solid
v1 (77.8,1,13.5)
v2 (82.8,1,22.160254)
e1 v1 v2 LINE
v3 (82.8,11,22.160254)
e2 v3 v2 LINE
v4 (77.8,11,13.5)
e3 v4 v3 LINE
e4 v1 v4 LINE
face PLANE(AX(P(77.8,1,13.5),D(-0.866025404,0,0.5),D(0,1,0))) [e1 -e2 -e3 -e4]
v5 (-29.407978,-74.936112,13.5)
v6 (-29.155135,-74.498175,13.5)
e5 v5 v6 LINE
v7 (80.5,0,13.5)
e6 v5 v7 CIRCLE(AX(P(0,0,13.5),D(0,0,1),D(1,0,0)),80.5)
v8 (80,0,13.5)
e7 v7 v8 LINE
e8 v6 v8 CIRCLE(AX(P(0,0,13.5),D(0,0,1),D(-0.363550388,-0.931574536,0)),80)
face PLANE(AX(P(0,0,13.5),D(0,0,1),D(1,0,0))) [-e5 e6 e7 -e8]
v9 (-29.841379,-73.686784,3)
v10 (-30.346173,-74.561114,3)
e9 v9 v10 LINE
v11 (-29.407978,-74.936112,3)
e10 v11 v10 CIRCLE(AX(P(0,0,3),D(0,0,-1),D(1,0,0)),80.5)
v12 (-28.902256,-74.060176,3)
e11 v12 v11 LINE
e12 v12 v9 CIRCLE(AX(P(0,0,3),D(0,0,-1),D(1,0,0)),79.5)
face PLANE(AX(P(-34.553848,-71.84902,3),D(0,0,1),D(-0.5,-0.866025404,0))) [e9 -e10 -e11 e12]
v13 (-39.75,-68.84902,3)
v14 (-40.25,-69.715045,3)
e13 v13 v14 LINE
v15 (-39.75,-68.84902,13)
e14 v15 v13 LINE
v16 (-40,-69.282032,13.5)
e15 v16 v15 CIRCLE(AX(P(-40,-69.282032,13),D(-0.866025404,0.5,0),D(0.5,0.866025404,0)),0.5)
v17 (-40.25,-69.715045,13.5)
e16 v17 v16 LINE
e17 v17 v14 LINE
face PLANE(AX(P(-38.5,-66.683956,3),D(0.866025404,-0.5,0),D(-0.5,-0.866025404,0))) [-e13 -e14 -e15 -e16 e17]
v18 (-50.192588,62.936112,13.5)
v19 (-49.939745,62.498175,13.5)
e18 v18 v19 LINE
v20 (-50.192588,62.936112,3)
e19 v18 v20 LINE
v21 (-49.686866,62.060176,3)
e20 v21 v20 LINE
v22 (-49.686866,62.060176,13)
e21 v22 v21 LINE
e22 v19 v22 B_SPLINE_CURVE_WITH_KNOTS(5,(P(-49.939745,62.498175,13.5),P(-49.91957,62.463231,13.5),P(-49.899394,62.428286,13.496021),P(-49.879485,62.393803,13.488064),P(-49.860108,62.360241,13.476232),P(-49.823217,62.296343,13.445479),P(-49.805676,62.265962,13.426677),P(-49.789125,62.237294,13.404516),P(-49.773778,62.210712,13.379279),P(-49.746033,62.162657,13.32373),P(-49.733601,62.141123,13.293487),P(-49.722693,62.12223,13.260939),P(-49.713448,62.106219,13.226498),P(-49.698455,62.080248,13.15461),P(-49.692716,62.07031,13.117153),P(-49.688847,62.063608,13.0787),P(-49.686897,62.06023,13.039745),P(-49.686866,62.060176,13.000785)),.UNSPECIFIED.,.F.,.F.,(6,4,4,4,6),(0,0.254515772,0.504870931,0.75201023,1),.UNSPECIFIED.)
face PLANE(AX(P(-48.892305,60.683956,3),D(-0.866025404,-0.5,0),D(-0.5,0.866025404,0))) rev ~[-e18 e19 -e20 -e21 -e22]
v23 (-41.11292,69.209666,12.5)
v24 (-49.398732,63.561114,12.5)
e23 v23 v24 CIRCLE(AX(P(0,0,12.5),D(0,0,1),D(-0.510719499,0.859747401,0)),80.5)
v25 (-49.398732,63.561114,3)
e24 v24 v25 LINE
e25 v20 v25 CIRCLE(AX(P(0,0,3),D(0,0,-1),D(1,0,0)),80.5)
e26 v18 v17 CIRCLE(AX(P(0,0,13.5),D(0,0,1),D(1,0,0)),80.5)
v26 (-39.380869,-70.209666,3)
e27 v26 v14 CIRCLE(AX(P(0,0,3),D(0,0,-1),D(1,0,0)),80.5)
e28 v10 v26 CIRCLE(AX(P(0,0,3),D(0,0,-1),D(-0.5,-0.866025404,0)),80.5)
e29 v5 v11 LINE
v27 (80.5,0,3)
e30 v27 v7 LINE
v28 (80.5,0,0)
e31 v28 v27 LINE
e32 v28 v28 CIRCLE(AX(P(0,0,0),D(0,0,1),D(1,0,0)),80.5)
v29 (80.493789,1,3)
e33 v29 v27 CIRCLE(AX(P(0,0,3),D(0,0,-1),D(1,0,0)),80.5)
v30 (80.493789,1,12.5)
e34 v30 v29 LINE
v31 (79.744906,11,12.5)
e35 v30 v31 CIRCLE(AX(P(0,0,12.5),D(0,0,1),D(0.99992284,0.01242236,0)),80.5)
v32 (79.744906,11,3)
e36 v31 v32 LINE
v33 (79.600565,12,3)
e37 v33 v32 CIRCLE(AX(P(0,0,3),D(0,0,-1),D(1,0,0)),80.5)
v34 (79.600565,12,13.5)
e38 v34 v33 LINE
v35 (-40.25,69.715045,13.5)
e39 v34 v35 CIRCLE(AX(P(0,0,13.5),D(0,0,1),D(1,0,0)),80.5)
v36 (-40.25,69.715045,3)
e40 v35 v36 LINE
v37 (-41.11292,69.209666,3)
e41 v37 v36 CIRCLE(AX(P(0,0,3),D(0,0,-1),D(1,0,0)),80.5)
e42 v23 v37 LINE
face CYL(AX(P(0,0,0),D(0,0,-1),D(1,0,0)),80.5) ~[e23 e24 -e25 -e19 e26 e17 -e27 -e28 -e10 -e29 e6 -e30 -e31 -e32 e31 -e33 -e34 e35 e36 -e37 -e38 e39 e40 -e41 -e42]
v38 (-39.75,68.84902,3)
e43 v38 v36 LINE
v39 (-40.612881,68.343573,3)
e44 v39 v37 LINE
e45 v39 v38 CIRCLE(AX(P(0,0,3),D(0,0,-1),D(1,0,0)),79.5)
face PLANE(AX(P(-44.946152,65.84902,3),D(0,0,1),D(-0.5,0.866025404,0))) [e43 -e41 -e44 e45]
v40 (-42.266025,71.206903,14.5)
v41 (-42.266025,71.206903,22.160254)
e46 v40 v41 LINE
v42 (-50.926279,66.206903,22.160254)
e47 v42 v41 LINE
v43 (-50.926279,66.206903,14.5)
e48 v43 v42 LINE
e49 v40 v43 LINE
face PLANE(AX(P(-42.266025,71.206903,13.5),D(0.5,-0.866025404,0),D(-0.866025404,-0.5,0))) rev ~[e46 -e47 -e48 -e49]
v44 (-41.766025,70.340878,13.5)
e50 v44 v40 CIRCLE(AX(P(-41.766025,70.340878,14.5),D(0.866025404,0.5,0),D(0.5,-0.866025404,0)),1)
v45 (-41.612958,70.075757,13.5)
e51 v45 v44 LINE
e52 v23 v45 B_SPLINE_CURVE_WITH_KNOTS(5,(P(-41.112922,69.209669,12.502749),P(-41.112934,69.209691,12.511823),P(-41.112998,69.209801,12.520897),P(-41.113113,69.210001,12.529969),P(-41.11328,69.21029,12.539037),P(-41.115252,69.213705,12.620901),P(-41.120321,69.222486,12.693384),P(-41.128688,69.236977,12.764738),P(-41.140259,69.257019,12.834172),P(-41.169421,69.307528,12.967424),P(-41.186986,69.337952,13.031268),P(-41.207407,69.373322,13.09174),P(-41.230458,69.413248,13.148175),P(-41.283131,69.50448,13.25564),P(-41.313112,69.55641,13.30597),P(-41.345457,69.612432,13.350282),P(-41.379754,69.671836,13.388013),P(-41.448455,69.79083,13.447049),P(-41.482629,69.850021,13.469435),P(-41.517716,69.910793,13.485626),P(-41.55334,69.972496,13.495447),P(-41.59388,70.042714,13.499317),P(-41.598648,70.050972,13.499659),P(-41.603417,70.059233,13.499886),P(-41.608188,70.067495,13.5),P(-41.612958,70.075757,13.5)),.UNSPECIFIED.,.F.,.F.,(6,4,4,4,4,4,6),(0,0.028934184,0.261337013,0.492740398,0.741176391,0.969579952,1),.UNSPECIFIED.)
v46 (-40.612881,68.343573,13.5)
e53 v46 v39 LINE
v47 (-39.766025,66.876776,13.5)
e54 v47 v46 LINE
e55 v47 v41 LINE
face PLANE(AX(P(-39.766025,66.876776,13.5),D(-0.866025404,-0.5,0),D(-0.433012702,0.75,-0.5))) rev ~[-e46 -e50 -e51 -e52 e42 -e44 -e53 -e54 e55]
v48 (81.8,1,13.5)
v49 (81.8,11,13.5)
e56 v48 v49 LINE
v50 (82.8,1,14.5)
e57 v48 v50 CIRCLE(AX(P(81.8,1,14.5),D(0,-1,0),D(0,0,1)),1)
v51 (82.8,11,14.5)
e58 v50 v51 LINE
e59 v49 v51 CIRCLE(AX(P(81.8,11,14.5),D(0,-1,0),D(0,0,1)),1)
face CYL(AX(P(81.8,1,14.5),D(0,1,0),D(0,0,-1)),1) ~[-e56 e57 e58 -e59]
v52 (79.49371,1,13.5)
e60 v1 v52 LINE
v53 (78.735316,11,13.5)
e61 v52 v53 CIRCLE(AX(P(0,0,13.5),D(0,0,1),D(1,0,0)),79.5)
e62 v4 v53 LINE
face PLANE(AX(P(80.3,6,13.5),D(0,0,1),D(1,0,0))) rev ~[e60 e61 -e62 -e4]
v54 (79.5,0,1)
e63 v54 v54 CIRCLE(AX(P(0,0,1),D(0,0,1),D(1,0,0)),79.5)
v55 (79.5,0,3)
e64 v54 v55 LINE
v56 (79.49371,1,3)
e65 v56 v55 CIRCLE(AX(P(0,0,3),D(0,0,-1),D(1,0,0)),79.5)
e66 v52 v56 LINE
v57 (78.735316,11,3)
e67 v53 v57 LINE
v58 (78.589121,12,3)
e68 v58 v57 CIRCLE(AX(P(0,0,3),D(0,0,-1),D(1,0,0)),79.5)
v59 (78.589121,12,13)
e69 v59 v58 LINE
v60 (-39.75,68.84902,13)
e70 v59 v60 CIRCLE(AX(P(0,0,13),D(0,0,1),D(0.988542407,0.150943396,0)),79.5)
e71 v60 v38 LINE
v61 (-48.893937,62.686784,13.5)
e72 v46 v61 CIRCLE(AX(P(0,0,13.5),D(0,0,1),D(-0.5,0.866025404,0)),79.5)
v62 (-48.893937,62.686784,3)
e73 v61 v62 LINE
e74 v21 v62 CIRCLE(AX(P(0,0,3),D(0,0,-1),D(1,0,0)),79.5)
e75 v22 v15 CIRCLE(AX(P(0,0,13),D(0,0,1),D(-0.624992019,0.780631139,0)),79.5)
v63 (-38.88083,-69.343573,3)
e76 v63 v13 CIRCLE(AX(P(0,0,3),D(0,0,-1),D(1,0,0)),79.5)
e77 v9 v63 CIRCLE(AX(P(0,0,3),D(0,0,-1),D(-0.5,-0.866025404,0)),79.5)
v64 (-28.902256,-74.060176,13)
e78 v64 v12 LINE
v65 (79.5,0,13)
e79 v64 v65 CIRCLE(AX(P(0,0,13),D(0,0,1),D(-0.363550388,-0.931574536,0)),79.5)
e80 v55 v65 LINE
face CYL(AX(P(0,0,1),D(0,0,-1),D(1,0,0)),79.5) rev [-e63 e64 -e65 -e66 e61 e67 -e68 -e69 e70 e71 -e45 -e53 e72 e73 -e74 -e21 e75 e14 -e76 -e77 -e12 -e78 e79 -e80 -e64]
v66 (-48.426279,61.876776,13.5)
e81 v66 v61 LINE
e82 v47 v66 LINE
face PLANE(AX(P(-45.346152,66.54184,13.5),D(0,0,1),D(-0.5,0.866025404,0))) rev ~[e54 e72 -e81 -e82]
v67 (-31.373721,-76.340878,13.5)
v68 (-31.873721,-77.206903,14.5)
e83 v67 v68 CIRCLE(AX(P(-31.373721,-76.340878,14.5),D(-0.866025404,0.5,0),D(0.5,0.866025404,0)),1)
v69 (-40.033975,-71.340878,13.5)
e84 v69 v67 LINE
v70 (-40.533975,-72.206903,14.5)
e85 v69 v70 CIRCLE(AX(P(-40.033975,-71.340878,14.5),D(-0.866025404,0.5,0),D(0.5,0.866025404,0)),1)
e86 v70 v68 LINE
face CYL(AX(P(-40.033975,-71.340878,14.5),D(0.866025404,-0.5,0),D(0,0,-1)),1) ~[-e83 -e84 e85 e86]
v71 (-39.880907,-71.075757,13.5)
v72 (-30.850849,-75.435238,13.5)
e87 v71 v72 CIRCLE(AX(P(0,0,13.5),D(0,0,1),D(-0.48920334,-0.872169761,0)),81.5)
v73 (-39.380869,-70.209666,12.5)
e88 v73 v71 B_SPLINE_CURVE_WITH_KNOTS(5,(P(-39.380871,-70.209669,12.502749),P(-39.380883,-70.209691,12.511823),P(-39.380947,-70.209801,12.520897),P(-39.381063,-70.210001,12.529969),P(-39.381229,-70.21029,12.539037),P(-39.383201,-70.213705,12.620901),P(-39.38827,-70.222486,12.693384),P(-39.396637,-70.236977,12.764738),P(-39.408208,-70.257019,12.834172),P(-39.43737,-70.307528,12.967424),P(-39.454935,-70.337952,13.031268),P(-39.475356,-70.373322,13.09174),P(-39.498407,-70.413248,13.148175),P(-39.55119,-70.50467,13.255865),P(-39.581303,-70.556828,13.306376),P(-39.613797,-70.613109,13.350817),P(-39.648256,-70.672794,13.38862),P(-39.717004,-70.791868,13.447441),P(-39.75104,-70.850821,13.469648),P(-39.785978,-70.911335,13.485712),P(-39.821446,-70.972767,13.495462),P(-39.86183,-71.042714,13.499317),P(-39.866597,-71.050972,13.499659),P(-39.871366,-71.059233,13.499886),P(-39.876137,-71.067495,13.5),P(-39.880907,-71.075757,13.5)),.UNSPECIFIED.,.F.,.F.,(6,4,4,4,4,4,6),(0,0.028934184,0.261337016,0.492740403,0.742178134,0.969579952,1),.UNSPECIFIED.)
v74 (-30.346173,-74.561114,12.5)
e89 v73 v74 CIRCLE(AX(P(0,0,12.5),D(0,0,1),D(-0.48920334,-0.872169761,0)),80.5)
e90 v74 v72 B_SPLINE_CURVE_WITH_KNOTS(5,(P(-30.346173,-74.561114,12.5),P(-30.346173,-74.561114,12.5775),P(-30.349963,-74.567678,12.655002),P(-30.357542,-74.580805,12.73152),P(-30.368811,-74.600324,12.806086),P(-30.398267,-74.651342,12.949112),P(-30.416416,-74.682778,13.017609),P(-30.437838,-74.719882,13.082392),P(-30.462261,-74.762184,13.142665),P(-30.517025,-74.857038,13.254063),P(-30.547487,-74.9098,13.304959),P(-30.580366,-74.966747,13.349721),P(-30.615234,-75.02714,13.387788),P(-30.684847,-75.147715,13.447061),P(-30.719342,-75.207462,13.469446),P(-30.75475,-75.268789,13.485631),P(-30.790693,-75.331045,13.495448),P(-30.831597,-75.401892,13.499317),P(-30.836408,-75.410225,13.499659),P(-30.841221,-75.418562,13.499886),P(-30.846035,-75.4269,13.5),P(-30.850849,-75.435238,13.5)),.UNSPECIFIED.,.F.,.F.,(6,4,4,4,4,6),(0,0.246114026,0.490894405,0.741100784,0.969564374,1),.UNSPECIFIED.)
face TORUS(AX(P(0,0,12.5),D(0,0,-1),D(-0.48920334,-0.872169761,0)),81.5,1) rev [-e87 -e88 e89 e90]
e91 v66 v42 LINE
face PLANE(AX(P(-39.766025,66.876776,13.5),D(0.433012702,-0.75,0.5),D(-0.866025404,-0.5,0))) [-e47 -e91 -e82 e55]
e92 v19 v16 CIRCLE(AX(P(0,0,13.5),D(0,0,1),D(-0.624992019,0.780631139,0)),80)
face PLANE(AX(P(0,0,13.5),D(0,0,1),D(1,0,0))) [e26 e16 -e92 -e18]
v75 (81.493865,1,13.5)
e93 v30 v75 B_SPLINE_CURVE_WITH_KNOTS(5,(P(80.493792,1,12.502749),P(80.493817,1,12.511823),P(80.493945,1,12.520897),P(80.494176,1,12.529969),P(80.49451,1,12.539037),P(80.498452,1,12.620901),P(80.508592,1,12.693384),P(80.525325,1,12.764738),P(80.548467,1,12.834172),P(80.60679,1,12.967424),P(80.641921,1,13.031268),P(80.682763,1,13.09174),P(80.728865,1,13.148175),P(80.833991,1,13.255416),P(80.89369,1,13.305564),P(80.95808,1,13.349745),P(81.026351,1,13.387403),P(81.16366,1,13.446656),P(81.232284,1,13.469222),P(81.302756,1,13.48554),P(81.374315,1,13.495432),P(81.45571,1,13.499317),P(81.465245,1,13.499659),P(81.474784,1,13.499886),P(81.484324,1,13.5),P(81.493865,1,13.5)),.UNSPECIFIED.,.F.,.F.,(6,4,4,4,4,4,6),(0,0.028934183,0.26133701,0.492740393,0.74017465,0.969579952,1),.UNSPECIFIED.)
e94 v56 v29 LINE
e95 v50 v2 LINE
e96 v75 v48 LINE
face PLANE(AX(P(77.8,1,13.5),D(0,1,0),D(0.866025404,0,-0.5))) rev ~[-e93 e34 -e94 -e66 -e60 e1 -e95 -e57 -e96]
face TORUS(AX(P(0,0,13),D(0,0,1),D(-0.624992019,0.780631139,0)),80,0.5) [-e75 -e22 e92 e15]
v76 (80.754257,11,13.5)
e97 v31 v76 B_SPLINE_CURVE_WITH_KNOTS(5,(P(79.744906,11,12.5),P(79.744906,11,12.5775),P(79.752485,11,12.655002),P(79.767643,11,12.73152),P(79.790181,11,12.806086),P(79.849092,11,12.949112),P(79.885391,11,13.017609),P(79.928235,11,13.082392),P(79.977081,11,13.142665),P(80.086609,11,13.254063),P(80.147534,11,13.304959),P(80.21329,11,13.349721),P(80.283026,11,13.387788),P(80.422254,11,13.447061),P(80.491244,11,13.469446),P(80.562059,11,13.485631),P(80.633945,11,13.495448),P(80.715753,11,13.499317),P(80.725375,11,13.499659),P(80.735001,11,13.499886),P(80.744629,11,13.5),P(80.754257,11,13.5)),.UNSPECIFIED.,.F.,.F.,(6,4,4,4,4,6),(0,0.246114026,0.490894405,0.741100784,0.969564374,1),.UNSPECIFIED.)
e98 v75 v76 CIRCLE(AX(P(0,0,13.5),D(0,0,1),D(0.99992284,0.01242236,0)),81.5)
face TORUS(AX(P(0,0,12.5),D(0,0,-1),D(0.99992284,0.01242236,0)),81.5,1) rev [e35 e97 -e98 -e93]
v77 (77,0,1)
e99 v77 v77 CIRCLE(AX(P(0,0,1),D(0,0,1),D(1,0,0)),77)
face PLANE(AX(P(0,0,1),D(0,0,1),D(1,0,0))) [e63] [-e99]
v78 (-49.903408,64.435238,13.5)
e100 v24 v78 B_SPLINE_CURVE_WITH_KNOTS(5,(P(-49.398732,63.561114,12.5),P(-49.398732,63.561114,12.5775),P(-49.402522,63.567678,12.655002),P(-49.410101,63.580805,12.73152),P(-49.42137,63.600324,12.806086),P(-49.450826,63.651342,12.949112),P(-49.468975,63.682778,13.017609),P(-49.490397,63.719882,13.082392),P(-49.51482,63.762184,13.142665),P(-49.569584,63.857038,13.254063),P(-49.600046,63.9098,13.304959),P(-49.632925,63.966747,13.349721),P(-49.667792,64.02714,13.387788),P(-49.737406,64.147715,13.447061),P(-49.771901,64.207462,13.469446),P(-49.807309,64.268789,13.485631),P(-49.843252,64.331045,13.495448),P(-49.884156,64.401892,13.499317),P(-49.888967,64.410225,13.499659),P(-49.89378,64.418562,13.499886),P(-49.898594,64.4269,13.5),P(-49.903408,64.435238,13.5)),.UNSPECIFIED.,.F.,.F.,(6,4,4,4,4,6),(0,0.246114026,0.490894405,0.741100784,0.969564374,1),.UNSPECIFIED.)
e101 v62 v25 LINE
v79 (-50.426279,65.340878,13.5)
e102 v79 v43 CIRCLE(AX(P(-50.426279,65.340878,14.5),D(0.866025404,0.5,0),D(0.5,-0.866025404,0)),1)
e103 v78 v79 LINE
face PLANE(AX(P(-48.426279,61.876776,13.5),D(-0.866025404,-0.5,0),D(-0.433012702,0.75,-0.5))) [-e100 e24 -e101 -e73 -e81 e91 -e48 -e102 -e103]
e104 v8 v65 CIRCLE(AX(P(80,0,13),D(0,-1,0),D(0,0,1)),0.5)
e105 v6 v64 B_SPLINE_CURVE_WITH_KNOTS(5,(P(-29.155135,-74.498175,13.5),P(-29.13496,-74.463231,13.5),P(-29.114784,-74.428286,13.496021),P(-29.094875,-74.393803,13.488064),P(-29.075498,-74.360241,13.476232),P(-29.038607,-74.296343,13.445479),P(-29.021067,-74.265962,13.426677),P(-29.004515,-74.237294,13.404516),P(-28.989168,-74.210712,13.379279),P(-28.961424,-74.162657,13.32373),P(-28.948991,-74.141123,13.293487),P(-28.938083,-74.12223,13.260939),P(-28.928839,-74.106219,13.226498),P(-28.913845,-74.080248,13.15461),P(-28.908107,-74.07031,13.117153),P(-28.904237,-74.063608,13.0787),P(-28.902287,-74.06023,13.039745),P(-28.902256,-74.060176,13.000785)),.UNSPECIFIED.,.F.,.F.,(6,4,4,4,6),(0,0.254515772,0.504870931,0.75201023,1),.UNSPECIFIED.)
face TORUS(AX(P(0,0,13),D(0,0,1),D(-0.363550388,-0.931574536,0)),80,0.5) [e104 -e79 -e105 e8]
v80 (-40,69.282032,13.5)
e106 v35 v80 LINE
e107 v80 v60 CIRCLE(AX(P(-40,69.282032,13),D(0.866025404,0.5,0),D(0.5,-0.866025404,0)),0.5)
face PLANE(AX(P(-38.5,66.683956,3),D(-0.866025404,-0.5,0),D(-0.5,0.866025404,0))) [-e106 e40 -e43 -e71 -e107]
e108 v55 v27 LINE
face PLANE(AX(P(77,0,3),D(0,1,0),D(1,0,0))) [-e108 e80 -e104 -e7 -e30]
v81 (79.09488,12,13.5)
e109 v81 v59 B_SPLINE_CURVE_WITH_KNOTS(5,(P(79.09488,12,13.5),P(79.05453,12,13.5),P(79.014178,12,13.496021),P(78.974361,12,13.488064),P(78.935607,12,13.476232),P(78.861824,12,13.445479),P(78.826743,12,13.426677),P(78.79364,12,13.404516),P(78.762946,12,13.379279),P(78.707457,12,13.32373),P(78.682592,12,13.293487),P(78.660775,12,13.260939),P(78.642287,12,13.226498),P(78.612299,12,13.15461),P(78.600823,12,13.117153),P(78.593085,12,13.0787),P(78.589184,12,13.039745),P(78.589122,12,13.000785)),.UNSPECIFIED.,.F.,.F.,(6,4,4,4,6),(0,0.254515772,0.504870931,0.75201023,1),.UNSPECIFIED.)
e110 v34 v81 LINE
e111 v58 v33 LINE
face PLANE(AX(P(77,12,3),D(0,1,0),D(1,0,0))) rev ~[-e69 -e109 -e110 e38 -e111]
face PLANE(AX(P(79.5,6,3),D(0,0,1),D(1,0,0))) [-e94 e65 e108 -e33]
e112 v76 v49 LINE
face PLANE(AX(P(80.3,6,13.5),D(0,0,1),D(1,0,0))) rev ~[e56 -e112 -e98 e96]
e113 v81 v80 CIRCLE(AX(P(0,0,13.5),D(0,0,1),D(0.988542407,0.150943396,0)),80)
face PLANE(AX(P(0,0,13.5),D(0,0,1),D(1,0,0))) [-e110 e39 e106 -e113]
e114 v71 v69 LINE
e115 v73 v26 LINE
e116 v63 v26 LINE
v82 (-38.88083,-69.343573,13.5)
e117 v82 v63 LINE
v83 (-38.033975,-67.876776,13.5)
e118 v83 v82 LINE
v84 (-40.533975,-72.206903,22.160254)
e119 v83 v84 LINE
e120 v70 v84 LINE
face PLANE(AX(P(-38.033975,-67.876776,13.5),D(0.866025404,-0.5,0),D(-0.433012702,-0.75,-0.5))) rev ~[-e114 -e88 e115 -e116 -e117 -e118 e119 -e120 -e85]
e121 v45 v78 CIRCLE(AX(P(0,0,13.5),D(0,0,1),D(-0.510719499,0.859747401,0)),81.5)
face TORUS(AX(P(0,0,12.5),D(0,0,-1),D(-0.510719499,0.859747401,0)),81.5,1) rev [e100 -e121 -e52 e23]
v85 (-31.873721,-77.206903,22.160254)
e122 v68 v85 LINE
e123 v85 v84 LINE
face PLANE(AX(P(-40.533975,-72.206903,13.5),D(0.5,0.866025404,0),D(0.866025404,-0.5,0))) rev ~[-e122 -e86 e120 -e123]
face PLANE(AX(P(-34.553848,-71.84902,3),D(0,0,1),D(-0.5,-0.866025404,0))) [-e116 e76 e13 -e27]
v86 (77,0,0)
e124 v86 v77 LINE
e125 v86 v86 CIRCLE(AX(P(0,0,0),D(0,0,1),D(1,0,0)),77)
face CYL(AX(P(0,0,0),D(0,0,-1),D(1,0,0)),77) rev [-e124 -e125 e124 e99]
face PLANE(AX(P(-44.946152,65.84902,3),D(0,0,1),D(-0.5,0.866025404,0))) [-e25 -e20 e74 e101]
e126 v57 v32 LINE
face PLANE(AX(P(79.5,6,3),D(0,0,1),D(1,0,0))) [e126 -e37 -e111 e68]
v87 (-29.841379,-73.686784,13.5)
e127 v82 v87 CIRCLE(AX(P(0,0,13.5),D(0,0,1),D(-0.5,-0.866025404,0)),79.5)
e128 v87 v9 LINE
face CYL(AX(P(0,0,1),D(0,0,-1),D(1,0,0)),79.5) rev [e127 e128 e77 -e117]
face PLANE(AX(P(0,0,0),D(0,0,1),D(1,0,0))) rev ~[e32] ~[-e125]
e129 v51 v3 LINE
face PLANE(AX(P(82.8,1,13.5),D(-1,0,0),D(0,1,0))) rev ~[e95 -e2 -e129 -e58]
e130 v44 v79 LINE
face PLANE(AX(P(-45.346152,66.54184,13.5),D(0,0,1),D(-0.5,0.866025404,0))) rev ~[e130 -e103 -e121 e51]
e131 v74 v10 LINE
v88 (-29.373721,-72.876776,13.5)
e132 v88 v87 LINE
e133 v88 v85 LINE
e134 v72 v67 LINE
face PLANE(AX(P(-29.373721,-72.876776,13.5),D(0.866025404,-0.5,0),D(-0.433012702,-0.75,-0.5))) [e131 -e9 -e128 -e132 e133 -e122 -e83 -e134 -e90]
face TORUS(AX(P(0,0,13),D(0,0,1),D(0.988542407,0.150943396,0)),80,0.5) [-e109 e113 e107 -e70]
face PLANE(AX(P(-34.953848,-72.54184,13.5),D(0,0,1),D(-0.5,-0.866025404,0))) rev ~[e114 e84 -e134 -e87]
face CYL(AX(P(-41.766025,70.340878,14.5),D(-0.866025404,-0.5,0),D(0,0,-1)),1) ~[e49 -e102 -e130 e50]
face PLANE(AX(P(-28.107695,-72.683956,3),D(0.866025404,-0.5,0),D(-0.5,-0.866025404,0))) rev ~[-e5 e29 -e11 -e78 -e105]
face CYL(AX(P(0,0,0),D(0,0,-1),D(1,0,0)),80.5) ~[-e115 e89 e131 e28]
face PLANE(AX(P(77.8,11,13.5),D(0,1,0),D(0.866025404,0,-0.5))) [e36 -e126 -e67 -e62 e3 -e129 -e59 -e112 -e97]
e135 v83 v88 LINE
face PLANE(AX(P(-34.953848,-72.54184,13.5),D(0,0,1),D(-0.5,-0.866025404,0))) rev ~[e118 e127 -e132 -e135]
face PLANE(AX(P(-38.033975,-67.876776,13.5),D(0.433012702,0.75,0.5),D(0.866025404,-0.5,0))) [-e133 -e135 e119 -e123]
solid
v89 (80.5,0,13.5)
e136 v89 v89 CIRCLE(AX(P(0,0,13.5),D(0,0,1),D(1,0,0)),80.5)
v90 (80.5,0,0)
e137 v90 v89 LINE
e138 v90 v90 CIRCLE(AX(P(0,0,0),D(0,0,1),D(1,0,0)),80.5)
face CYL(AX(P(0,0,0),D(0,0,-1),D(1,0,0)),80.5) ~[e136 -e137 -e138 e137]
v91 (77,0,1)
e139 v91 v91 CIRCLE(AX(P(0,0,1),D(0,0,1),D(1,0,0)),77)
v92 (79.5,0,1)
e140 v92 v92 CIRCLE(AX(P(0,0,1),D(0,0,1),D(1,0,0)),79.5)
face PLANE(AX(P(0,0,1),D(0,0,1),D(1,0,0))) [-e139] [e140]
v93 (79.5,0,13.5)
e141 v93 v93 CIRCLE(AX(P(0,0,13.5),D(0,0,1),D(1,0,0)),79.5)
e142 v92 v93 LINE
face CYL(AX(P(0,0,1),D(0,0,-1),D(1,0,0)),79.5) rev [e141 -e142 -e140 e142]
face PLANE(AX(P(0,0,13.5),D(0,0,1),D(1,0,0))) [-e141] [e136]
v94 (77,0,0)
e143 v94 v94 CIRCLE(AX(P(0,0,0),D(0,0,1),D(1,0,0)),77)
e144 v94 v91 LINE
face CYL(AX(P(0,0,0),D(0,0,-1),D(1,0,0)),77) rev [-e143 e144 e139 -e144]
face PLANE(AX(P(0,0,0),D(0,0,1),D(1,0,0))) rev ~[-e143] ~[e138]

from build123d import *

# Parameters (mm, degrees)
CYLINDER_R             = 77
CYLINDER_DEPTH         = 1
CYLINDER001_R          = 79.5
CYLINDER001_DEPTH      = 12.5
CYLINDER002_R          = 80.5
CYLINDER002_DEPTH      = 13.5
BOX002_W               = 5
BOX002_H               = 10
BOX002_DEPTH           = 12
BOX003_W               = 5
BOX003_H               = 10
BOX003_DEPTH           = 12
BOX003_PLACEMENT_ANGLE = 30
CYLINDER003_R          = 79.5
CYLINDER003_DEPTH      = 13.5
CYLINDER004_R          = 80.5
CYLINDER004_DEPTH      = 13.5
BOX001_W               = 5
BOX001_H               = 10
BOX001_DEPTH           = 12
ARRAY001_COUNT         = 3
BOX_W                  = 5
BOX_H                  = 12
BOX_DEPTH              = 12
ARRAY_COUNT            = 3
CYLINDER005_R          = 77
CYLINDER005_DEPTH      = 1
CYLINDER006_R          = 79.5
CYLINDER006_DEPTH      = 12.5
CYLINDER007_R          = 80.5
CYLINDER007_DEPTH      = 13.5
FILLET_R               = 0.5
FILLET001_R            = 1


with BuildPart() as cylinder:
    # Cylinder → Cylinder (new body)
    with BuildSketch(Plane.XY):
        Circle(CYLINDER_R)
    extrude(amount=CYLINDER_DEPTH)


with BuildPart() as fusion:
    # Cylinder001 → Cylinder001 (new body)
    with BuildSketch(Plane.XY.offset(1)):
        Circle(CYLINDER001_R)
    extrude(amount=CYLINDER001_DEPTH)

    # Fusion: union Cylinder
    add(cylinder.part)


with BuildPart() as attachmentseatrecess_noclamps:
    # Cylinder002 → Cylinder002 (new body)
    with BuildSketch(Plane.XY):
        Circle(CYLINDER002_R)
    extrude(amount=CYLINDER002_DEPTH)

    # Cut: cut Fusion
    add(fusion.part, mode=Mode.SUBTRACT)


with BuildPart() as cube002:
    # Box002 → Box002 (new body)
    with BuildSketch(Plane(origin=(77.8, 1, 13.5), x_dir=(1, 0, 0), z_dir=(0, 0, 1))):
        with Locations((2.5, 5)):
            Rectangle(BOX002_W, BOX002_H)
    extrude(amount=BOX002_DEPTH)


with BuildPart() as common001:
    # Box003 → Box003 (new body)
    with BuildSketch(Plane.XY):
        with Locations((2.5, 5)):
            Rectangle(BOX003_W, BOX003_H)
    extrude(amount=BOX003_DEPTH)


with BuildPart() as common001_1:
    # Box003 placement: moved
    add(common001.part.moved(Location((77.8, 1, 13.5))).rotate(Axis((77.8, 1, 13.5), (0, 1, 0)), BOX003_PLACEMENT_ANGLE))

    # Common001: intersect Cube002
    add(cube002.part, mode=Mode.INTERSECT)


with BuildPart() as cylinder003:
    # Cylinder003 → Cylinder003 (new body)
    with BuildSketch(Plane.XY):
        Circle(CYLINDER003_R)
    extrude(amount=CYLINDER003_DEPTH)


with BuildPart() as cut001:
    # Cylinder004 → Cylinder004 (new body)
    with BuildSketch(Plane.XY):
        Circle(CYLINDER004_R)
    extrude(amount=CYLINDER004_DEPTH)

    # Cut001: cut Cylinder003
    add(cylinder003.part, mode=Mode.SUBTRACT)


with BuildPart() as array001:
    # Box001 → Box001 (new body)
    with BuildSketch(Plane(origin=(77.8, 1, 3), x_dir=(1, 0, 0), z_dir=(0, 0, 1))):
        with Locations((2.5, 5)):
            Rectangle(BOX001_W, BOX001_H)
    extrude(amount=BOX001_DEPTH)

    # Common: intersect Cut001
    add(cut001.part, mode=Mode.INTERSECT)

    # Fusion001: union Common001
    add(common001_1.part)

    # Array001: Array001 ×3 about axis
    array001_axis = Axis((0, 0, 0), (0, 0, 1))


with BuildPart() as array001_1:
    add(array001.part)
    for i in range(1, ARRAY001_COUNT):
        add(array001.part.rotate(array001_axis, i * 360 / ARRAY001_COUNT))


with BuildPart() as array:
    # Box → Box (new body)
    with BuildSketch(Plane(origin=(77, 0, 3), x_dir=(1, 0, 0), z_dir=(0, 0, 1))):
        with Locations((2.5, 6)):
            Rectangle(BOX_W, BOX_H)
    extrude(amount=BOX_DEPTH)

    # Array: Array ×3 about axis
    array_axis = Axis((0, 0, 0), (0, 0, 1))


with BuildPart() as array_1:
    add(array.part)
    for i in range(1, ARRAY_COUNT):
        add(array.part.rotate(array_axis, i * 360 / ARRAY_COUNT))


with BuildPart() as cylinder005:
    # Cylinder005 → Cylinder005 (new body)
    with BuildSketch(Plane.XY):
        Circle(CYLINDER005_R)
    extrude(amount=CYLINDER005_DEPTH)


with BuildPart() as fusion002:
    # Cylinder006 → Cylinder006 (new body)
    with BuildSketch(Plane.XY.offset(1)):
        Circle(CYLINDER006_R)
    extrude(amount=CYLINDER006_DEPTH)

    # Fusion002: union Cylinder005
    add(cylinder005.part)


with BuildPart() as fillet001:
    # Cylinder007 → Cylinder007 (new body)
    with BuildSketch(Plane.XY):
        Circle(CYLINDER007_R)
    extrude(amount=CYLINDER007_DEPTH)

    # Cut002: cut Fusion002
    add(fusion002.part, mode=Mode.SUBTRACT)

    # Cut003: cut Array
    add(array_1.part, mode=Mode.SUBTRACT)

    # Fusion003: union Array001
    add(array001_1.part)

    # Fillet
    fillet_edges = [fillet001.edges().sort_by_distance(p)[0] for p in [
        (44.847077, -65.642895, 13.5),
        (-79.271953, -6.017261, 13.5),
        (34.424876, 71.660156, 13.5),
    ]]
    fillet(fillet_edges, radius=FILLET_R)

    # Fillet001
    fillet001_edges = [fillet001.edges().sort_by_distance(p)[0] for p in [
        (-34.931345, -72.52621, 13.5),
        (-45.343868, 66.514537, 13.5),
        (80.275213, 6.011673, 13.5),
        (-36.203848, -74.706903, 13.5),
        (-46.596152, 68.706903, 13.5),
        (82.8, 6, 13.5),
    ]]
    fillet(fillet001_edges, radius=FILLET001_R)


solid = Compound([attachmentseatrecess_noclamps.part, fillet001.part])
